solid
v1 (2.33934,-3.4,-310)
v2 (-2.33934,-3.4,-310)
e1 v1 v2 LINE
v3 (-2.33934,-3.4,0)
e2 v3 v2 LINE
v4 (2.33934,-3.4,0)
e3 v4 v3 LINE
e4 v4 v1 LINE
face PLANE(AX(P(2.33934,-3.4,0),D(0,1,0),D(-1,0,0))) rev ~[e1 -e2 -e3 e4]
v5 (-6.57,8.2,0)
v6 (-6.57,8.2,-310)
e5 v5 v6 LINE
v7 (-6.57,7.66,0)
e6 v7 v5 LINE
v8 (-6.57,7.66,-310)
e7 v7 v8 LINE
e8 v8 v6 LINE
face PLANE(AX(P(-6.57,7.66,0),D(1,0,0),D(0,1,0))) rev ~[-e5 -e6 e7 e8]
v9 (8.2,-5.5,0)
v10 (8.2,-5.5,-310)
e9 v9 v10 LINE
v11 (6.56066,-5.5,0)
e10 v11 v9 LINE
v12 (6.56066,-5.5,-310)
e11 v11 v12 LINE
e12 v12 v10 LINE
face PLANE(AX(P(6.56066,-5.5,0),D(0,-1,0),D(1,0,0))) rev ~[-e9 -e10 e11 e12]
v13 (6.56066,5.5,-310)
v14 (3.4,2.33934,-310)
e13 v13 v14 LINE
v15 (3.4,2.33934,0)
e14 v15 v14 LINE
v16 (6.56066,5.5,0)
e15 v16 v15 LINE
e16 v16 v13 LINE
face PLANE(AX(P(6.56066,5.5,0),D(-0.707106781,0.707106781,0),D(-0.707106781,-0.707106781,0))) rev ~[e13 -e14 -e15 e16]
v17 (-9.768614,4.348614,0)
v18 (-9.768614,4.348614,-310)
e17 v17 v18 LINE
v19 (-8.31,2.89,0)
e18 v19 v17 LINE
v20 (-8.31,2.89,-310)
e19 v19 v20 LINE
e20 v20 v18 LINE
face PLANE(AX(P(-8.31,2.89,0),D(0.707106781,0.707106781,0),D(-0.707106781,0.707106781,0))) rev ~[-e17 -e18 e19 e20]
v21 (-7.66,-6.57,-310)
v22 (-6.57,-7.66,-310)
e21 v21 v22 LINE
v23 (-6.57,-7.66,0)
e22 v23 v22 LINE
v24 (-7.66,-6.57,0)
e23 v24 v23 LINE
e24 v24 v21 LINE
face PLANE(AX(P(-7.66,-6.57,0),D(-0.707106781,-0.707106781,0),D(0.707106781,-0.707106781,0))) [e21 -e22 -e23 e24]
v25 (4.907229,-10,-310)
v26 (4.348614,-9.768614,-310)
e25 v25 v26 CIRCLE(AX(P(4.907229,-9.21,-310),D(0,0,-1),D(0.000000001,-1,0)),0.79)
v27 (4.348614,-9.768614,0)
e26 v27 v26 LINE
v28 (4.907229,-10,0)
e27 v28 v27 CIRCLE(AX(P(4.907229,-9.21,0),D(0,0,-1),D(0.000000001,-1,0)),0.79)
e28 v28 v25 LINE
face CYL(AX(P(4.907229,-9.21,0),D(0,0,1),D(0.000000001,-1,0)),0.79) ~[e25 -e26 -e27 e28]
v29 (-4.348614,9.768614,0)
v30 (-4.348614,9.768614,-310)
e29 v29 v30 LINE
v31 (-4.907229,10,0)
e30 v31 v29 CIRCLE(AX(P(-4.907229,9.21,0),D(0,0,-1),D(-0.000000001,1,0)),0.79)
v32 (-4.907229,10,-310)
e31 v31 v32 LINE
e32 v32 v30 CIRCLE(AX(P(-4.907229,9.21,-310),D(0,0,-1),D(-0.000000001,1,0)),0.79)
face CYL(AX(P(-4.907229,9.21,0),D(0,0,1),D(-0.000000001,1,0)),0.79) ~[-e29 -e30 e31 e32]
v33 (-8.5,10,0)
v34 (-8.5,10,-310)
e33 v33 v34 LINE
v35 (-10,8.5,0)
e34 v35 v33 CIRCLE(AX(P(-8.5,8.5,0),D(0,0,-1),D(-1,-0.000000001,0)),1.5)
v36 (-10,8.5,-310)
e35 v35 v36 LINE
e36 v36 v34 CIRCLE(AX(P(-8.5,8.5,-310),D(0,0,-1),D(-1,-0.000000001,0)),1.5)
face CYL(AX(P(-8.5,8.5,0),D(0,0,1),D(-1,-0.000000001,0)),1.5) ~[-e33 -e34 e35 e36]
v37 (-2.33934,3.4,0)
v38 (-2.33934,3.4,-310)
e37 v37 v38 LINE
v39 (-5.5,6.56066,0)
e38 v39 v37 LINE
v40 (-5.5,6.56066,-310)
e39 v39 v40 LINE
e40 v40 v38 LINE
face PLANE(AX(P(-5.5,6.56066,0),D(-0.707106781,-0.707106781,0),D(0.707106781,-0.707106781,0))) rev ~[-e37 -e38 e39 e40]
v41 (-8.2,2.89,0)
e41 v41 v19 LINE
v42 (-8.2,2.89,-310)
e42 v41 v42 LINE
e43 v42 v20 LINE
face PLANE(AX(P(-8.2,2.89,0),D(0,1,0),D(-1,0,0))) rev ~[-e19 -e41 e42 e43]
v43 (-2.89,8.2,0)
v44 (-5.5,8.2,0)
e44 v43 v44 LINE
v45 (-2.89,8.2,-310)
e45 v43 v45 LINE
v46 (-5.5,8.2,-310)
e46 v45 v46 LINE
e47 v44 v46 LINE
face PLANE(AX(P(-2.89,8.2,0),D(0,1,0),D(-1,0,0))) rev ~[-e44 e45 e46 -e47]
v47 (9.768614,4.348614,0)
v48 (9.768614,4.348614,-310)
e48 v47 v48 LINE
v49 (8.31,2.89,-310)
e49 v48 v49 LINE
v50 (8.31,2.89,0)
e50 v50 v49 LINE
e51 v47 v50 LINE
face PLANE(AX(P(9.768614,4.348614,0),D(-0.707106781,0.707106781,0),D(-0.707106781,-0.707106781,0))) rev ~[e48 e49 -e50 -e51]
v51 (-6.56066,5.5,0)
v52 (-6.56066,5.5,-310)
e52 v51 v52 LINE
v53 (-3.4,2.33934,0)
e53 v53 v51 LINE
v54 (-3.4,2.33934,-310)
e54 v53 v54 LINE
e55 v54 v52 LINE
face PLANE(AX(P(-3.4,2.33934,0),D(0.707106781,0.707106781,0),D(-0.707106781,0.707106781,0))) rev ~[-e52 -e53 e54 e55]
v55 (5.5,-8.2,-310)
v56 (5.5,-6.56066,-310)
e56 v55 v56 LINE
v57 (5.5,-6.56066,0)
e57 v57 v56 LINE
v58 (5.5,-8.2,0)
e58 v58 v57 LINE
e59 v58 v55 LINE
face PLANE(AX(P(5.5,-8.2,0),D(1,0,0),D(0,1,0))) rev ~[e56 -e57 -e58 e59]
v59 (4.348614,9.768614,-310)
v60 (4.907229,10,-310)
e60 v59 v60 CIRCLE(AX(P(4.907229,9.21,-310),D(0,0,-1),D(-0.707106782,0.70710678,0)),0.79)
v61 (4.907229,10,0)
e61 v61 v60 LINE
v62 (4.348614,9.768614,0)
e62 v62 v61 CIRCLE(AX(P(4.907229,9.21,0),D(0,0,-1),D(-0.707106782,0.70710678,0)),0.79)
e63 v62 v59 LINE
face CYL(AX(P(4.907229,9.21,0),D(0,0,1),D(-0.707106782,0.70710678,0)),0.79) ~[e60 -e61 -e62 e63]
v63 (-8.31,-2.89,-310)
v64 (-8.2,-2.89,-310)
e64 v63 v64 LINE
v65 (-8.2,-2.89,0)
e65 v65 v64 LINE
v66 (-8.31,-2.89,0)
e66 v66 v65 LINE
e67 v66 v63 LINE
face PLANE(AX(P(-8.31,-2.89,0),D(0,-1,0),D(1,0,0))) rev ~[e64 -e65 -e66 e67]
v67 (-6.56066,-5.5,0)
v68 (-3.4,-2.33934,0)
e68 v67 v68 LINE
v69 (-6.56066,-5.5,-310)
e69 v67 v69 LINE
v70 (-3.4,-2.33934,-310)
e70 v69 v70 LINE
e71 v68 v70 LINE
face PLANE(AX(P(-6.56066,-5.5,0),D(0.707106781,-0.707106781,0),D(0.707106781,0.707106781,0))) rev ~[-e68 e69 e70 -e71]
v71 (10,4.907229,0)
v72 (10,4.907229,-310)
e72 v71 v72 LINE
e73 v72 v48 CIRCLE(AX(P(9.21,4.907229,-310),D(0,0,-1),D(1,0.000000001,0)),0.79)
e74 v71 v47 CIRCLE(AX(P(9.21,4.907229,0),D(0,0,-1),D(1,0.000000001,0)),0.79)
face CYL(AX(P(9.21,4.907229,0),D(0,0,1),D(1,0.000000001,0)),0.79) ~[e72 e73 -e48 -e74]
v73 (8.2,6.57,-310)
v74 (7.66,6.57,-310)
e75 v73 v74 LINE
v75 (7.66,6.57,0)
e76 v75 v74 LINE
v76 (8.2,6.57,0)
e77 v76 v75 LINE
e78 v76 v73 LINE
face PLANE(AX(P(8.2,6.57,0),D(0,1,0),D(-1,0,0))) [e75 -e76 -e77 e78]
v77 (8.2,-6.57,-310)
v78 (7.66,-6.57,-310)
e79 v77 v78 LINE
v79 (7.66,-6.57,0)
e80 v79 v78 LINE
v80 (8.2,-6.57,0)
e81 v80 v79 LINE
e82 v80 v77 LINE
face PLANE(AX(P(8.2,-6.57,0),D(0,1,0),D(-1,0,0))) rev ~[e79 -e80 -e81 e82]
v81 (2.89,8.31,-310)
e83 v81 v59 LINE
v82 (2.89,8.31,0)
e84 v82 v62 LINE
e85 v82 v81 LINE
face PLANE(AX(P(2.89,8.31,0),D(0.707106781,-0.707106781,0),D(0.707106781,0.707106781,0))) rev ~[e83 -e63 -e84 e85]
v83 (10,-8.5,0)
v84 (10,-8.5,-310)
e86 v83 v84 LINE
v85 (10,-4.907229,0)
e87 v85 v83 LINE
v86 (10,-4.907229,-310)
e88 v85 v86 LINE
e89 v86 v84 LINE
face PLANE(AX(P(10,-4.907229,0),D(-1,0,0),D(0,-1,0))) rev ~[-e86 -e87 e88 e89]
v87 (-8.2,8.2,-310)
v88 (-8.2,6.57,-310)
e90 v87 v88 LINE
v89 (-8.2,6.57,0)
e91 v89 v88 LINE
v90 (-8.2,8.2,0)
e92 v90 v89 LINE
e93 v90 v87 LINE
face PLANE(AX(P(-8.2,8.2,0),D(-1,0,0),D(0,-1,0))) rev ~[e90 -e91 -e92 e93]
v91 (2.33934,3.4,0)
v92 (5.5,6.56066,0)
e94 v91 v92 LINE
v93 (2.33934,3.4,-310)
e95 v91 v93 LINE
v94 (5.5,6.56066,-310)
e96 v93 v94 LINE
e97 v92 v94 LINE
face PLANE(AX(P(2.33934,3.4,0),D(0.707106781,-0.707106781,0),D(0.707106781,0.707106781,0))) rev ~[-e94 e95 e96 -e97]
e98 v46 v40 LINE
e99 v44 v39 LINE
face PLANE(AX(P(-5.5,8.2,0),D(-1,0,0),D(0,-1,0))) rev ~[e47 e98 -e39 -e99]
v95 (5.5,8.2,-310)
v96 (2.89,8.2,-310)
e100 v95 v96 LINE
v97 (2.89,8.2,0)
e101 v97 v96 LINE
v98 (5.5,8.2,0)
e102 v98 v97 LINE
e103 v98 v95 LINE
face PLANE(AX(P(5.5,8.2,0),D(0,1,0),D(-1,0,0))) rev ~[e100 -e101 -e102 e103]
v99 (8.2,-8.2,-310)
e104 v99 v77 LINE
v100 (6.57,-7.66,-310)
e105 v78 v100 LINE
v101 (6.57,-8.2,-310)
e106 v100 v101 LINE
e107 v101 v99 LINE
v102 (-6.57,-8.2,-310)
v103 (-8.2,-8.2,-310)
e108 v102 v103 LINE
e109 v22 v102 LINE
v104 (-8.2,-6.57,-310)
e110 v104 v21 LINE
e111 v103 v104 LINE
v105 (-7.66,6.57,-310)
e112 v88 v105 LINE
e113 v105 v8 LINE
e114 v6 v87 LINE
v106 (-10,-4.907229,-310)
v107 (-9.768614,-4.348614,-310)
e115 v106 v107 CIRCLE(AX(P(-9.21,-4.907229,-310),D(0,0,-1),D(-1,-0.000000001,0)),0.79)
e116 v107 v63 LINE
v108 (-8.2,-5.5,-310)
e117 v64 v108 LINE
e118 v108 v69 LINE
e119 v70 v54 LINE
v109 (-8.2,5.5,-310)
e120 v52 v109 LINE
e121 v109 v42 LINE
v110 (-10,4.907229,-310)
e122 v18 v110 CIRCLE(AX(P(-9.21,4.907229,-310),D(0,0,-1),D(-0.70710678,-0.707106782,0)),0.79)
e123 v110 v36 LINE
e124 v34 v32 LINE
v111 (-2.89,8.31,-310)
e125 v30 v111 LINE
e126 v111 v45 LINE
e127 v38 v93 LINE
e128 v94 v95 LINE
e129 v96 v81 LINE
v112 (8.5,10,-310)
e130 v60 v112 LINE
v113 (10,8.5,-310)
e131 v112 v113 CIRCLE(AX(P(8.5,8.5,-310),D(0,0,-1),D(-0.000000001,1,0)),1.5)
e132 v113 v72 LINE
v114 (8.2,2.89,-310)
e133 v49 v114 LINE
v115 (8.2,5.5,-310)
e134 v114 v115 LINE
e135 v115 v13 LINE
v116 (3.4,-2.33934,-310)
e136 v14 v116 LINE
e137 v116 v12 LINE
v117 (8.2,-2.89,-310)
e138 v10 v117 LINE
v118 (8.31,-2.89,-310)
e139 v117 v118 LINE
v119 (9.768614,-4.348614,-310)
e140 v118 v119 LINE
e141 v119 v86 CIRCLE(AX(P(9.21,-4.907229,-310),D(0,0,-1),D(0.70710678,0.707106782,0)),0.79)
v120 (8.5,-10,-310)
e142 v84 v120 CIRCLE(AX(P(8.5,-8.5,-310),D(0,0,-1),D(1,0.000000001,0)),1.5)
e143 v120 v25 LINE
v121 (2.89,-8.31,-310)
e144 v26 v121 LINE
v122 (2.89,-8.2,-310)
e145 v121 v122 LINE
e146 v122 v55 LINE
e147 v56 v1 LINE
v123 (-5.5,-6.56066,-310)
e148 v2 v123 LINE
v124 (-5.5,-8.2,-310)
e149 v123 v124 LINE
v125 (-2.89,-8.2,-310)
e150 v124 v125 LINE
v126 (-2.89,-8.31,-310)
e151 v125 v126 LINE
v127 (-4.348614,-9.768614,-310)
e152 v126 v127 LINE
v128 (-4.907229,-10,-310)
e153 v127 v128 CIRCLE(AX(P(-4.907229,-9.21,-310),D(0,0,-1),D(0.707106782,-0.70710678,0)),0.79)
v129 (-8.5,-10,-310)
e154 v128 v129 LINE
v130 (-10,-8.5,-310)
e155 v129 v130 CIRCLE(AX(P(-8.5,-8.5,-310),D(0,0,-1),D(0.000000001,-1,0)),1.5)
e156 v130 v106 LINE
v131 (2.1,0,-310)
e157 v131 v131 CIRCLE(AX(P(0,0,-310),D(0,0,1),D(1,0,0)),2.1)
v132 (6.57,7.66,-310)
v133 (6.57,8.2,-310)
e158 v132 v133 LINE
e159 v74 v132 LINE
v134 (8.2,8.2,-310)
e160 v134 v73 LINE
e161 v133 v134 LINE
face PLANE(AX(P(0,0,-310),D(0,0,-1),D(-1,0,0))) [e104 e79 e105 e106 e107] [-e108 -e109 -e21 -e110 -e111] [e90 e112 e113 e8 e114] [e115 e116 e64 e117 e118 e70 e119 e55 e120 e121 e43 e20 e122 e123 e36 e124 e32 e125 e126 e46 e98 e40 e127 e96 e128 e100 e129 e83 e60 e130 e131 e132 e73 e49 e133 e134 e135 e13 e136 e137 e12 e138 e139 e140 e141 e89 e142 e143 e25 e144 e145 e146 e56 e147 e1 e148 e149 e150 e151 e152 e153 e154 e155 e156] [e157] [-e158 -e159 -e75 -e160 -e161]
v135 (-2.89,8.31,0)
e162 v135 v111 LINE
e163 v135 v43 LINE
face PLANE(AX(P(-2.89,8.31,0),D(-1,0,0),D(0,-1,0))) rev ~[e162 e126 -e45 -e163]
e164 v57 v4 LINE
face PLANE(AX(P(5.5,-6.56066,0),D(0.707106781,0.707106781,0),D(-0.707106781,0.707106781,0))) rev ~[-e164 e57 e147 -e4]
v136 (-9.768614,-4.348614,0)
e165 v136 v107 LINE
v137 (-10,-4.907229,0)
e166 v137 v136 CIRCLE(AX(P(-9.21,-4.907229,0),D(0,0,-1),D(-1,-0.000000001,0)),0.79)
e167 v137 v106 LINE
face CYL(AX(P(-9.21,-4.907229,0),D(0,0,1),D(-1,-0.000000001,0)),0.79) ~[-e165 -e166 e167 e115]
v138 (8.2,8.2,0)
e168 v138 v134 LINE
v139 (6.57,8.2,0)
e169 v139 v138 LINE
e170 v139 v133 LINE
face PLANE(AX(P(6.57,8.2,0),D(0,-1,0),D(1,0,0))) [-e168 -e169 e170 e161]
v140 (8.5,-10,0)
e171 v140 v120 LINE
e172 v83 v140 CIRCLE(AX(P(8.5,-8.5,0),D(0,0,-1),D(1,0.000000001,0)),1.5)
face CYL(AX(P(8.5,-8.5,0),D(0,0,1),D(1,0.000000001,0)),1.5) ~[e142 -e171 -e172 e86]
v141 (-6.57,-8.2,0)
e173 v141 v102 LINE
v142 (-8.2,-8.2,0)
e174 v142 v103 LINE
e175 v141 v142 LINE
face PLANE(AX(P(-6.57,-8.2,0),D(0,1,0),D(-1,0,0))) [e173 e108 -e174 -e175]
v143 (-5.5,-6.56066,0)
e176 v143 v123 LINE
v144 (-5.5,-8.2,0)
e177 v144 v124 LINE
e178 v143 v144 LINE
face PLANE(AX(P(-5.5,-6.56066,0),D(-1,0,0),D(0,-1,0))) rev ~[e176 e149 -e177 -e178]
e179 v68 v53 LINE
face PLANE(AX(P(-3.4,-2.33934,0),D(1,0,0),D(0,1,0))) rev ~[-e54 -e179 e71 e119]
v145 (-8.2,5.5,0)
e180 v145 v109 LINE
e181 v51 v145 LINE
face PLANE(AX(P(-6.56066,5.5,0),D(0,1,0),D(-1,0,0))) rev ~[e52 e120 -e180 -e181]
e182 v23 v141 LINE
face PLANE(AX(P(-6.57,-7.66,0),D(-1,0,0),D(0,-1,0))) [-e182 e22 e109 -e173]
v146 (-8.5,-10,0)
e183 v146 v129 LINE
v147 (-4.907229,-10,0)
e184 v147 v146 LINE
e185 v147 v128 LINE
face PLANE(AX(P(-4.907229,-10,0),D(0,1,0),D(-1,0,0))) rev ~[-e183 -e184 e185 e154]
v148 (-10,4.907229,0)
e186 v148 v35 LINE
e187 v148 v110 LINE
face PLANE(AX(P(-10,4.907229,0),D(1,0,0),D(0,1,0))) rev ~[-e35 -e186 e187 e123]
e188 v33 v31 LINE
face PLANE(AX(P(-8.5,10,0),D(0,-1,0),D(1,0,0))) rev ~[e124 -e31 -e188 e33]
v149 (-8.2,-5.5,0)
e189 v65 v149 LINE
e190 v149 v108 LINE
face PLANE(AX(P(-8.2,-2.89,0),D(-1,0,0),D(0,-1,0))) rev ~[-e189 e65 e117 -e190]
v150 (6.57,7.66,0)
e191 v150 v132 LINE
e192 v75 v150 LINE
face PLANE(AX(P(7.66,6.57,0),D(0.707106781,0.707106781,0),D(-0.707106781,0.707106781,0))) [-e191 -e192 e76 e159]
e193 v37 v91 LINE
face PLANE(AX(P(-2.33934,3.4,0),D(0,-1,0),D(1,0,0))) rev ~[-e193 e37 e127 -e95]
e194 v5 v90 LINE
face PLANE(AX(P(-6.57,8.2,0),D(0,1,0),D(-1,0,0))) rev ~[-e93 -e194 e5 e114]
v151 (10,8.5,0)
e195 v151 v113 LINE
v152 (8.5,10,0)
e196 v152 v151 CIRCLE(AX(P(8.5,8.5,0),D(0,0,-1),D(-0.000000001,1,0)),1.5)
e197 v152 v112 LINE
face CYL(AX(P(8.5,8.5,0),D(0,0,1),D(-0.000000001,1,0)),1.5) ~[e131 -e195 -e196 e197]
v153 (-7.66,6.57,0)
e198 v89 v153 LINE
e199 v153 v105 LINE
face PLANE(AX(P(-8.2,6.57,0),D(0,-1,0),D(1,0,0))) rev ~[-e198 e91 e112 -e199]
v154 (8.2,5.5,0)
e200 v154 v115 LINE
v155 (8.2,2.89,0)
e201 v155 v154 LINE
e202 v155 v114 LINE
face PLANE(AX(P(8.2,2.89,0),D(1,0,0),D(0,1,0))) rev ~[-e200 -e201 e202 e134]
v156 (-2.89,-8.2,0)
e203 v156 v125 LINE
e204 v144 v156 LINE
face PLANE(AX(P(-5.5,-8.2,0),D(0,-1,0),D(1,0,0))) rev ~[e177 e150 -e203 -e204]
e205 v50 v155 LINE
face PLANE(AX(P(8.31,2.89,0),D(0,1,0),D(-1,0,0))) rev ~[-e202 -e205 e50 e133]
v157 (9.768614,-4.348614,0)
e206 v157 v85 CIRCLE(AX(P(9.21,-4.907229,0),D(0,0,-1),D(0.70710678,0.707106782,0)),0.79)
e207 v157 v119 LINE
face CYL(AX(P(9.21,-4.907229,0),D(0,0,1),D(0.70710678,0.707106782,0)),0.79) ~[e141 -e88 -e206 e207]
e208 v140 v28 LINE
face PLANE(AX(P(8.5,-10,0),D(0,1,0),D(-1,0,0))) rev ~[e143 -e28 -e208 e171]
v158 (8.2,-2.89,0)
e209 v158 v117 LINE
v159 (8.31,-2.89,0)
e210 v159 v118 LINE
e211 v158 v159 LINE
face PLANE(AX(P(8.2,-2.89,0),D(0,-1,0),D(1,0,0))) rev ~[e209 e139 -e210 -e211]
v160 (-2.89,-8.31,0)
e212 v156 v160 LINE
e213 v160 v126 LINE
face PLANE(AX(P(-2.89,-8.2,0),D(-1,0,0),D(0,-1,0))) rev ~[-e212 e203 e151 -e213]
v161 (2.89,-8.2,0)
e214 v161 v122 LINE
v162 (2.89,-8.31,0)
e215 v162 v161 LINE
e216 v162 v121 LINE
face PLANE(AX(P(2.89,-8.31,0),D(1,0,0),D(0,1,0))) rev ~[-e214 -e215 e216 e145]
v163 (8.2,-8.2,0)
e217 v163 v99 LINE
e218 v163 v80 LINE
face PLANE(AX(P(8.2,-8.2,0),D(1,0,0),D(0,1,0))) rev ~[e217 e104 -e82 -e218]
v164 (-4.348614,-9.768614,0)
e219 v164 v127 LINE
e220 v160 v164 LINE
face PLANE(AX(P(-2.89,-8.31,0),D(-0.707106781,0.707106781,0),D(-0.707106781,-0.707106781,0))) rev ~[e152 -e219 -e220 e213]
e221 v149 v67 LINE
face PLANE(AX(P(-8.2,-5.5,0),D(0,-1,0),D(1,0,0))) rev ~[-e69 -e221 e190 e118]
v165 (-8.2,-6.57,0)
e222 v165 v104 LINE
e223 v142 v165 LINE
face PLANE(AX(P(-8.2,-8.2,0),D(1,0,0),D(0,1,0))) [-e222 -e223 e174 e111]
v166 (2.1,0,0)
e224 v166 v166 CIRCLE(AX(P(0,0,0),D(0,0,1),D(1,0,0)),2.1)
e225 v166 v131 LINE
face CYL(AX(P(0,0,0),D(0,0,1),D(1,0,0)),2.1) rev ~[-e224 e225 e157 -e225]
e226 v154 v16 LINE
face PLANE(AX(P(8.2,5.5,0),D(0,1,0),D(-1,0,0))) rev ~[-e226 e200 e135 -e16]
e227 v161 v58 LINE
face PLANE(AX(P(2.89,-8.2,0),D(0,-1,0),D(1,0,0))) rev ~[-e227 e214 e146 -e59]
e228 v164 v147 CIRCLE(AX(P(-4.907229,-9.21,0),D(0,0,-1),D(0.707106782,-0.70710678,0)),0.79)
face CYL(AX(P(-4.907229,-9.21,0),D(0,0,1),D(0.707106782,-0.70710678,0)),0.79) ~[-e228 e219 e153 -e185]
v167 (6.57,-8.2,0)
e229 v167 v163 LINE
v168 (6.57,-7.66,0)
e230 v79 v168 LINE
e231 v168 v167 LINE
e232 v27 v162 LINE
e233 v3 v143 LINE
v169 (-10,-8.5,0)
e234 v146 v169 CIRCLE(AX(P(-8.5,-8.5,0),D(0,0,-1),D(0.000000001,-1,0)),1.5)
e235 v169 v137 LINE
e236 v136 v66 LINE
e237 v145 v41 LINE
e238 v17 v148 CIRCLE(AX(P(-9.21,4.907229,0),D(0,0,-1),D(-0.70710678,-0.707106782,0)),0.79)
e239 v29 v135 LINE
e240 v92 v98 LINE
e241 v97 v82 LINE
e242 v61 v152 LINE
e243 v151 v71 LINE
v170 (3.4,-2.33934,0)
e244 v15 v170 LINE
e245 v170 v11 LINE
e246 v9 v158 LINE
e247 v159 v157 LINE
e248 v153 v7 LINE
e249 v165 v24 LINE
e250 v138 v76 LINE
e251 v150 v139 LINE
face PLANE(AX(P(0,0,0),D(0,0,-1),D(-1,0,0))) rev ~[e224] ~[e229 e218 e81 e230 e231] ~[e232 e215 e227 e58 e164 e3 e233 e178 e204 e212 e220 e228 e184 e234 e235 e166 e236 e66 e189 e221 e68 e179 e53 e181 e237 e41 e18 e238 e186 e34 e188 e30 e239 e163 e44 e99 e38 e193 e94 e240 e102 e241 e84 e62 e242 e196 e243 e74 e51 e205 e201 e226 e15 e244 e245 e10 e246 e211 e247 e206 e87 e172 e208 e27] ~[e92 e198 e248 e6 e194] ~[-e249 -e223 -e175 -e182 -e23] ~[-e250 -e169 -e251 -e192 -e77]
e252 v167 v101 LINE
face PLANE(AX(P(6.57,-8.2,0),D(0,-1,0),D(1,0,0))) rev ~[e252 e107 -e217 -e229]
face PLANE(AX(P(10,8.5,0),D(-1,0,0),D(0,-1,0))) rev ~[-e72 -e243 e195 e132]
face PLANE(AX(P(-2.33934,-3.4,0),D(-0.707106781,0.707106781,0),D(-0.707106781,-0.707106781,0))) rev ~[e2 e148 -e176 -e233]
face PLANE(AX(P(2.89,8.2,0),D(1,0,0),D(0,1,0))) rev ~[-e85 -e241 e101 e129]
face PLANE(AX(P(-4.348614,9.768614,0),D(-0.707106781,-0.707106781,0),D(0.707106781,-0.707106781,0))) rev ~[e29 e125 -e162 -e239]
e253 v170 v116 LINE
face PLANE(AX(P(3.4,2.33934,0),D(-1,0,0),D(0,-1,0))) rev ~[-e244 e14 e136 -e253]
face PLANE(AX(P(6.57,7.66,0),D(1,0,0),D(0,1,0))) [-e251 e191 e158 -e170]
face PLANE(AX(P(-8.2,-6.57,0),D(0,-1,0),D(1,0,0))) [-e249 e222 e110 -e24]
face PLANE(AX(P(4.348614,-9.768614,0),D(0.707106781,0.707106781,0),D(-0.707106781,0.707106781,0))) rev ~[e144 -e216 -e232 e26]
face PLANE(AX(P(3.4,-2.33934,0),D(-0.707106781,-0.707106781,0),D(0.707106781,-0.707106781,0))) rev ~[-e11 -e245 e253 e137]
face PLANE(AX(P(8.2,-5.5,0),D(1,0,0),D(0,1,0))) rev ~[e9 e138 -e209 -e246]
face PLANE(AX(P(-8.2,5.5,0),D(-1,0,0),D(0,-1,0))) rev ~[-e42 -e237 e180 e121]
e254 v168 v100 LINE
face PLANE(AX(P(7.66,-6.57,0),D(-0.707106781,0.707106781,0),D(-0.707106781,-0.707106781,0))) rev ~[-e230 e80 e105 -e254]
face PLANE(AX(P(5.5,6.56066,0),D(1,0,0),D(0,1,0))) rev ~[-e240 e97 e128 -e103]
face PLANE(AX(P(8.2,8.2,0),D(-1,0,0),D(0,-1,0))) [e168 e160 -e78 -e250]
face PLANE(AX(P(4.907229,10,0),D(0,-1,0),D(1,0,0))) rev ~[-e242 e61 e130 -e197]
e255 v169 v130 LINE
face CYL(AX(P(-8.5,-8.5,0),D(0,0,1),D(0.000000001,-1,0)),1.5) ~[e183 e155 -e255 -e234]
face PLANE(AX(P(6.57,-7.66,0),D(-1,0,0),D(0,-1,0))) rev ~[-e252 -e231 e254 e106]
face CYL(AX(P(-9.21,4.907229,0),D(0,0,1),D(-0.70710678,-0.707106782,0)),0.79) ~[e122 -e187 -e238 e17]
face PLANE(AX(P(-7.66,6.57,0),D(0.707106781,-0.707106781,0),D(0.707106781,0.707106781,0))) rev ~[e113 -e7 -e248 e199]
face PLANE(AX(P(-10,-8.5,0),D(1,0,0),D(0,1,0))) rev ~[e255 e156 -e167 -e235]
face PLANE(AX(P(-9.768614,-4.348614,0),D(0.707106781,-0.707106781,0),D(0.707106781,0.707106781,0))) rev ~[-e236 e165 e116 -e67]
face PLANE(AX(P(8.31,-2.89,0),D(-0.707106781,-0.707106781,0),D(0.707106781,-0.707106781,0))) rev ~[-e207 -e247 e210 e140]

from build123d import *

# Parameters (mm, degrees)
SKETCH6_R           = 2.1
BOSS_EXTRUDE1_DEPTH = 310


with BuildPart() as part:
    # Sketch6 → Boss-Extrude1 (new body)
    with BuildSketch(Plane.XY):
        with BuildLine():
            Line((-3.4, -2.339339828), (-3.4, 2.339339828))
            Line((-3.4, 2.339339828), (-6.560660172, 5.5))
            Line((-6.560660172, 5.5), (-8.2, 5.5))
            Line((-8.2, 5.5), (-8.2, 2.89))
            Line((-8.2, 2.89), (-8.31, 2.89))
            Line((-8.31, 2.89), (-9.768614357, 4.348614357))
            ThreePointArc((-9.768614357, 4.348614357), (-9.939864831, 4.604908803), (-10, 4.907228714))
            Line((-10, 4.907228714), (-10, 8.5))
            ThreePointArc((-10, 8.5), (-9.560660172, 9.560660172), (-8.5, 10))
            Line((-8.5, 10), (-4.907228714, 10))
            ThreePointArc((-4.907228714, 10), (-4.604908803, 9.939864831), (-4.348614357, 9.768614357))
            Line((-4.348614357, 9.768614357), (-2.89, 8.31))
            Line((-2.89, 8.31), (-2.89, 8.2))
            Line((-2.89, 8.2), (-5.5, 8.2))
            Line((-5.5, 8.2), (-5.5, 6.560660172))
            Line((-5.5, 6.560660172), (-2.339339828, 3.4))
            Line((-2.339339828, 3.4), (2.339339828, 3.4))
            Line((2.339339828, 3.4), (5.5, 6.560660172))
            Line((5.5, 6.560660172), (5.5, 8.2))
            Line((5.5, 8.2), (2.89, 8.2))
            Line((2.89, 8.2), (2.89, 8.31))
            Line((2.89, 8.31), (4.348614357, 9.768614357))
            ThreePointArc((4.348614357, 9.768614357), (4.604908803, 9.939864831), (4.907228714, 10))
            Line((4.907228714, 10), (8.5, 10))
            ThreePointArc((8.5, 10), (9.560660172, 9.560660172), (10, 8.5))
            Line((10, 8.5), (10, 4.907228714))
            ThreePointArc((10, 4.907228714), (9.939864831, 4.604908803), (9.768614357, 4.348614357))
            Line((9.768614357, 4.348614357), (8.31, 2.89))
            Line((8.31, 2.89), (8.2, 2.89))
            Line((8.2, 2.89), (8.2, 5.5))
            Line((8.2, 5.5), (6.560660172, 5.5))
            Line((6.560660172, 5.5), (3.4, 2.339339828))
            Line((3.4, 2.339339828), (3.4, -2.339339828))
            Line((3.4, -2.339339828), (6.560660172, -5.5))
            Line((6.560660172, -5.5), (8.2, -5.5))
            Line((8.2, -5.5), (8.2, -2.89))
            Line((8.2, -2.89), (8.31, -2.89))
            Line((8.31, -2.89), (9.768614357, -4.348614357))
            ThreePointArc((9.768614357, -4.348614357), (9.939864831, -4.604908803), (10, -4.907228714))
            Line((10, -4.907228714), (10, -8.5))
            ThreePointArc((10, -8.5), (9.560660172, -9.560660172), (8.5, -10))
            Line((8.5, -10), (4.907228714, -10))
            ThreePointArc((4.907228714, -10), (4.604908803, -9.939864831), (4.348614357, -9.768614357))
            Line((4.348614357, -9.768614357), (2.89, -8.31))
            Line((2.89, -8.31), (2.89, -8.2))
            Line((2.89, -8.2), (5.5, -8.2))
            Line((5.5, -8.2), (5.5, -6.560660172))
            Line((5.5, -6.560660172), (2.339339828, -3.4))
            Line((2.339339828, -3.4), (-2.339339828, -3.4))
            Line((-2.339339828, -3.4), (-5.5, -6.560660172))
            Line((-5.5, -6.560660172), (-5.5, -8.2))
            Line((-5.5, -8.2), (-2.89, -8.2))
            Line((-2.89, -8.2), (-2.89, -8.31))
            Line((-2.89, -8.31), (-4.348614357, -9.768614357))
            ThreePointArc((-4.348614357, -9.768614357), (-4.604908803, -9.939864831), (-4.907228714, -10))
            Line((-4.907228714, -10), (-8.5, -10))
            ThreePointArc((-8.5, -10), (-9.560660172, -9.560660172), (-10, -8.5))
            Line((-10, -8.5), (-10, -4.907228714))
            ThreePointArc((-10, -4.907228714), (-9.939864831, -4.604908803), (-9.768614357, -4.348614357))
            Line((-9.768614357, -4.348614357), (-8.31, -2.89))
            Line((-8.31, -2.89), (-8.2, -2.89))
            Line((-8.2, -2.89), (-8.2, -5.5))
            Line((-8.2, -5.5), (-6.560660172, -5.5))
            Line((-6.560660172, -5.5), (-3.4, -2.339339828))
        make_face()
        Circle(SKETCH6_R, mode=Mode.SUBTRACT)
        Polygon((-7.66, 6.57), (-6.57, 7.66), (-6.57, 8.2), (-8.2, 8.2), (-8.2, 6.57), align=None, mode=Mode.SUBTRACT)
        Polygon((8.2, 6.57), (7.66, 6.57), (6.57, 7.66), (6.57, 8.2), (8.2, 8.2), align=None, mode=Mode.SUBTRACT)
        Polygon((7.66, -6.57), (6.57, -7.66), (6.57, -8.2), (8.2, -8.2), (8.2, -6.57), align=None, mode=Mode.SUBTRACT)
        Polygon((-8.2, -6.57), (-7.66, -6.57), (-6.57, -7.66), (-6.57, -8.2), (-8.2, -8.2), align=None, mode=Mode.SUBTRACT)
    extrude(amount=-BOSS_EXTRUDE1_DEPTH)


solid = part.part
